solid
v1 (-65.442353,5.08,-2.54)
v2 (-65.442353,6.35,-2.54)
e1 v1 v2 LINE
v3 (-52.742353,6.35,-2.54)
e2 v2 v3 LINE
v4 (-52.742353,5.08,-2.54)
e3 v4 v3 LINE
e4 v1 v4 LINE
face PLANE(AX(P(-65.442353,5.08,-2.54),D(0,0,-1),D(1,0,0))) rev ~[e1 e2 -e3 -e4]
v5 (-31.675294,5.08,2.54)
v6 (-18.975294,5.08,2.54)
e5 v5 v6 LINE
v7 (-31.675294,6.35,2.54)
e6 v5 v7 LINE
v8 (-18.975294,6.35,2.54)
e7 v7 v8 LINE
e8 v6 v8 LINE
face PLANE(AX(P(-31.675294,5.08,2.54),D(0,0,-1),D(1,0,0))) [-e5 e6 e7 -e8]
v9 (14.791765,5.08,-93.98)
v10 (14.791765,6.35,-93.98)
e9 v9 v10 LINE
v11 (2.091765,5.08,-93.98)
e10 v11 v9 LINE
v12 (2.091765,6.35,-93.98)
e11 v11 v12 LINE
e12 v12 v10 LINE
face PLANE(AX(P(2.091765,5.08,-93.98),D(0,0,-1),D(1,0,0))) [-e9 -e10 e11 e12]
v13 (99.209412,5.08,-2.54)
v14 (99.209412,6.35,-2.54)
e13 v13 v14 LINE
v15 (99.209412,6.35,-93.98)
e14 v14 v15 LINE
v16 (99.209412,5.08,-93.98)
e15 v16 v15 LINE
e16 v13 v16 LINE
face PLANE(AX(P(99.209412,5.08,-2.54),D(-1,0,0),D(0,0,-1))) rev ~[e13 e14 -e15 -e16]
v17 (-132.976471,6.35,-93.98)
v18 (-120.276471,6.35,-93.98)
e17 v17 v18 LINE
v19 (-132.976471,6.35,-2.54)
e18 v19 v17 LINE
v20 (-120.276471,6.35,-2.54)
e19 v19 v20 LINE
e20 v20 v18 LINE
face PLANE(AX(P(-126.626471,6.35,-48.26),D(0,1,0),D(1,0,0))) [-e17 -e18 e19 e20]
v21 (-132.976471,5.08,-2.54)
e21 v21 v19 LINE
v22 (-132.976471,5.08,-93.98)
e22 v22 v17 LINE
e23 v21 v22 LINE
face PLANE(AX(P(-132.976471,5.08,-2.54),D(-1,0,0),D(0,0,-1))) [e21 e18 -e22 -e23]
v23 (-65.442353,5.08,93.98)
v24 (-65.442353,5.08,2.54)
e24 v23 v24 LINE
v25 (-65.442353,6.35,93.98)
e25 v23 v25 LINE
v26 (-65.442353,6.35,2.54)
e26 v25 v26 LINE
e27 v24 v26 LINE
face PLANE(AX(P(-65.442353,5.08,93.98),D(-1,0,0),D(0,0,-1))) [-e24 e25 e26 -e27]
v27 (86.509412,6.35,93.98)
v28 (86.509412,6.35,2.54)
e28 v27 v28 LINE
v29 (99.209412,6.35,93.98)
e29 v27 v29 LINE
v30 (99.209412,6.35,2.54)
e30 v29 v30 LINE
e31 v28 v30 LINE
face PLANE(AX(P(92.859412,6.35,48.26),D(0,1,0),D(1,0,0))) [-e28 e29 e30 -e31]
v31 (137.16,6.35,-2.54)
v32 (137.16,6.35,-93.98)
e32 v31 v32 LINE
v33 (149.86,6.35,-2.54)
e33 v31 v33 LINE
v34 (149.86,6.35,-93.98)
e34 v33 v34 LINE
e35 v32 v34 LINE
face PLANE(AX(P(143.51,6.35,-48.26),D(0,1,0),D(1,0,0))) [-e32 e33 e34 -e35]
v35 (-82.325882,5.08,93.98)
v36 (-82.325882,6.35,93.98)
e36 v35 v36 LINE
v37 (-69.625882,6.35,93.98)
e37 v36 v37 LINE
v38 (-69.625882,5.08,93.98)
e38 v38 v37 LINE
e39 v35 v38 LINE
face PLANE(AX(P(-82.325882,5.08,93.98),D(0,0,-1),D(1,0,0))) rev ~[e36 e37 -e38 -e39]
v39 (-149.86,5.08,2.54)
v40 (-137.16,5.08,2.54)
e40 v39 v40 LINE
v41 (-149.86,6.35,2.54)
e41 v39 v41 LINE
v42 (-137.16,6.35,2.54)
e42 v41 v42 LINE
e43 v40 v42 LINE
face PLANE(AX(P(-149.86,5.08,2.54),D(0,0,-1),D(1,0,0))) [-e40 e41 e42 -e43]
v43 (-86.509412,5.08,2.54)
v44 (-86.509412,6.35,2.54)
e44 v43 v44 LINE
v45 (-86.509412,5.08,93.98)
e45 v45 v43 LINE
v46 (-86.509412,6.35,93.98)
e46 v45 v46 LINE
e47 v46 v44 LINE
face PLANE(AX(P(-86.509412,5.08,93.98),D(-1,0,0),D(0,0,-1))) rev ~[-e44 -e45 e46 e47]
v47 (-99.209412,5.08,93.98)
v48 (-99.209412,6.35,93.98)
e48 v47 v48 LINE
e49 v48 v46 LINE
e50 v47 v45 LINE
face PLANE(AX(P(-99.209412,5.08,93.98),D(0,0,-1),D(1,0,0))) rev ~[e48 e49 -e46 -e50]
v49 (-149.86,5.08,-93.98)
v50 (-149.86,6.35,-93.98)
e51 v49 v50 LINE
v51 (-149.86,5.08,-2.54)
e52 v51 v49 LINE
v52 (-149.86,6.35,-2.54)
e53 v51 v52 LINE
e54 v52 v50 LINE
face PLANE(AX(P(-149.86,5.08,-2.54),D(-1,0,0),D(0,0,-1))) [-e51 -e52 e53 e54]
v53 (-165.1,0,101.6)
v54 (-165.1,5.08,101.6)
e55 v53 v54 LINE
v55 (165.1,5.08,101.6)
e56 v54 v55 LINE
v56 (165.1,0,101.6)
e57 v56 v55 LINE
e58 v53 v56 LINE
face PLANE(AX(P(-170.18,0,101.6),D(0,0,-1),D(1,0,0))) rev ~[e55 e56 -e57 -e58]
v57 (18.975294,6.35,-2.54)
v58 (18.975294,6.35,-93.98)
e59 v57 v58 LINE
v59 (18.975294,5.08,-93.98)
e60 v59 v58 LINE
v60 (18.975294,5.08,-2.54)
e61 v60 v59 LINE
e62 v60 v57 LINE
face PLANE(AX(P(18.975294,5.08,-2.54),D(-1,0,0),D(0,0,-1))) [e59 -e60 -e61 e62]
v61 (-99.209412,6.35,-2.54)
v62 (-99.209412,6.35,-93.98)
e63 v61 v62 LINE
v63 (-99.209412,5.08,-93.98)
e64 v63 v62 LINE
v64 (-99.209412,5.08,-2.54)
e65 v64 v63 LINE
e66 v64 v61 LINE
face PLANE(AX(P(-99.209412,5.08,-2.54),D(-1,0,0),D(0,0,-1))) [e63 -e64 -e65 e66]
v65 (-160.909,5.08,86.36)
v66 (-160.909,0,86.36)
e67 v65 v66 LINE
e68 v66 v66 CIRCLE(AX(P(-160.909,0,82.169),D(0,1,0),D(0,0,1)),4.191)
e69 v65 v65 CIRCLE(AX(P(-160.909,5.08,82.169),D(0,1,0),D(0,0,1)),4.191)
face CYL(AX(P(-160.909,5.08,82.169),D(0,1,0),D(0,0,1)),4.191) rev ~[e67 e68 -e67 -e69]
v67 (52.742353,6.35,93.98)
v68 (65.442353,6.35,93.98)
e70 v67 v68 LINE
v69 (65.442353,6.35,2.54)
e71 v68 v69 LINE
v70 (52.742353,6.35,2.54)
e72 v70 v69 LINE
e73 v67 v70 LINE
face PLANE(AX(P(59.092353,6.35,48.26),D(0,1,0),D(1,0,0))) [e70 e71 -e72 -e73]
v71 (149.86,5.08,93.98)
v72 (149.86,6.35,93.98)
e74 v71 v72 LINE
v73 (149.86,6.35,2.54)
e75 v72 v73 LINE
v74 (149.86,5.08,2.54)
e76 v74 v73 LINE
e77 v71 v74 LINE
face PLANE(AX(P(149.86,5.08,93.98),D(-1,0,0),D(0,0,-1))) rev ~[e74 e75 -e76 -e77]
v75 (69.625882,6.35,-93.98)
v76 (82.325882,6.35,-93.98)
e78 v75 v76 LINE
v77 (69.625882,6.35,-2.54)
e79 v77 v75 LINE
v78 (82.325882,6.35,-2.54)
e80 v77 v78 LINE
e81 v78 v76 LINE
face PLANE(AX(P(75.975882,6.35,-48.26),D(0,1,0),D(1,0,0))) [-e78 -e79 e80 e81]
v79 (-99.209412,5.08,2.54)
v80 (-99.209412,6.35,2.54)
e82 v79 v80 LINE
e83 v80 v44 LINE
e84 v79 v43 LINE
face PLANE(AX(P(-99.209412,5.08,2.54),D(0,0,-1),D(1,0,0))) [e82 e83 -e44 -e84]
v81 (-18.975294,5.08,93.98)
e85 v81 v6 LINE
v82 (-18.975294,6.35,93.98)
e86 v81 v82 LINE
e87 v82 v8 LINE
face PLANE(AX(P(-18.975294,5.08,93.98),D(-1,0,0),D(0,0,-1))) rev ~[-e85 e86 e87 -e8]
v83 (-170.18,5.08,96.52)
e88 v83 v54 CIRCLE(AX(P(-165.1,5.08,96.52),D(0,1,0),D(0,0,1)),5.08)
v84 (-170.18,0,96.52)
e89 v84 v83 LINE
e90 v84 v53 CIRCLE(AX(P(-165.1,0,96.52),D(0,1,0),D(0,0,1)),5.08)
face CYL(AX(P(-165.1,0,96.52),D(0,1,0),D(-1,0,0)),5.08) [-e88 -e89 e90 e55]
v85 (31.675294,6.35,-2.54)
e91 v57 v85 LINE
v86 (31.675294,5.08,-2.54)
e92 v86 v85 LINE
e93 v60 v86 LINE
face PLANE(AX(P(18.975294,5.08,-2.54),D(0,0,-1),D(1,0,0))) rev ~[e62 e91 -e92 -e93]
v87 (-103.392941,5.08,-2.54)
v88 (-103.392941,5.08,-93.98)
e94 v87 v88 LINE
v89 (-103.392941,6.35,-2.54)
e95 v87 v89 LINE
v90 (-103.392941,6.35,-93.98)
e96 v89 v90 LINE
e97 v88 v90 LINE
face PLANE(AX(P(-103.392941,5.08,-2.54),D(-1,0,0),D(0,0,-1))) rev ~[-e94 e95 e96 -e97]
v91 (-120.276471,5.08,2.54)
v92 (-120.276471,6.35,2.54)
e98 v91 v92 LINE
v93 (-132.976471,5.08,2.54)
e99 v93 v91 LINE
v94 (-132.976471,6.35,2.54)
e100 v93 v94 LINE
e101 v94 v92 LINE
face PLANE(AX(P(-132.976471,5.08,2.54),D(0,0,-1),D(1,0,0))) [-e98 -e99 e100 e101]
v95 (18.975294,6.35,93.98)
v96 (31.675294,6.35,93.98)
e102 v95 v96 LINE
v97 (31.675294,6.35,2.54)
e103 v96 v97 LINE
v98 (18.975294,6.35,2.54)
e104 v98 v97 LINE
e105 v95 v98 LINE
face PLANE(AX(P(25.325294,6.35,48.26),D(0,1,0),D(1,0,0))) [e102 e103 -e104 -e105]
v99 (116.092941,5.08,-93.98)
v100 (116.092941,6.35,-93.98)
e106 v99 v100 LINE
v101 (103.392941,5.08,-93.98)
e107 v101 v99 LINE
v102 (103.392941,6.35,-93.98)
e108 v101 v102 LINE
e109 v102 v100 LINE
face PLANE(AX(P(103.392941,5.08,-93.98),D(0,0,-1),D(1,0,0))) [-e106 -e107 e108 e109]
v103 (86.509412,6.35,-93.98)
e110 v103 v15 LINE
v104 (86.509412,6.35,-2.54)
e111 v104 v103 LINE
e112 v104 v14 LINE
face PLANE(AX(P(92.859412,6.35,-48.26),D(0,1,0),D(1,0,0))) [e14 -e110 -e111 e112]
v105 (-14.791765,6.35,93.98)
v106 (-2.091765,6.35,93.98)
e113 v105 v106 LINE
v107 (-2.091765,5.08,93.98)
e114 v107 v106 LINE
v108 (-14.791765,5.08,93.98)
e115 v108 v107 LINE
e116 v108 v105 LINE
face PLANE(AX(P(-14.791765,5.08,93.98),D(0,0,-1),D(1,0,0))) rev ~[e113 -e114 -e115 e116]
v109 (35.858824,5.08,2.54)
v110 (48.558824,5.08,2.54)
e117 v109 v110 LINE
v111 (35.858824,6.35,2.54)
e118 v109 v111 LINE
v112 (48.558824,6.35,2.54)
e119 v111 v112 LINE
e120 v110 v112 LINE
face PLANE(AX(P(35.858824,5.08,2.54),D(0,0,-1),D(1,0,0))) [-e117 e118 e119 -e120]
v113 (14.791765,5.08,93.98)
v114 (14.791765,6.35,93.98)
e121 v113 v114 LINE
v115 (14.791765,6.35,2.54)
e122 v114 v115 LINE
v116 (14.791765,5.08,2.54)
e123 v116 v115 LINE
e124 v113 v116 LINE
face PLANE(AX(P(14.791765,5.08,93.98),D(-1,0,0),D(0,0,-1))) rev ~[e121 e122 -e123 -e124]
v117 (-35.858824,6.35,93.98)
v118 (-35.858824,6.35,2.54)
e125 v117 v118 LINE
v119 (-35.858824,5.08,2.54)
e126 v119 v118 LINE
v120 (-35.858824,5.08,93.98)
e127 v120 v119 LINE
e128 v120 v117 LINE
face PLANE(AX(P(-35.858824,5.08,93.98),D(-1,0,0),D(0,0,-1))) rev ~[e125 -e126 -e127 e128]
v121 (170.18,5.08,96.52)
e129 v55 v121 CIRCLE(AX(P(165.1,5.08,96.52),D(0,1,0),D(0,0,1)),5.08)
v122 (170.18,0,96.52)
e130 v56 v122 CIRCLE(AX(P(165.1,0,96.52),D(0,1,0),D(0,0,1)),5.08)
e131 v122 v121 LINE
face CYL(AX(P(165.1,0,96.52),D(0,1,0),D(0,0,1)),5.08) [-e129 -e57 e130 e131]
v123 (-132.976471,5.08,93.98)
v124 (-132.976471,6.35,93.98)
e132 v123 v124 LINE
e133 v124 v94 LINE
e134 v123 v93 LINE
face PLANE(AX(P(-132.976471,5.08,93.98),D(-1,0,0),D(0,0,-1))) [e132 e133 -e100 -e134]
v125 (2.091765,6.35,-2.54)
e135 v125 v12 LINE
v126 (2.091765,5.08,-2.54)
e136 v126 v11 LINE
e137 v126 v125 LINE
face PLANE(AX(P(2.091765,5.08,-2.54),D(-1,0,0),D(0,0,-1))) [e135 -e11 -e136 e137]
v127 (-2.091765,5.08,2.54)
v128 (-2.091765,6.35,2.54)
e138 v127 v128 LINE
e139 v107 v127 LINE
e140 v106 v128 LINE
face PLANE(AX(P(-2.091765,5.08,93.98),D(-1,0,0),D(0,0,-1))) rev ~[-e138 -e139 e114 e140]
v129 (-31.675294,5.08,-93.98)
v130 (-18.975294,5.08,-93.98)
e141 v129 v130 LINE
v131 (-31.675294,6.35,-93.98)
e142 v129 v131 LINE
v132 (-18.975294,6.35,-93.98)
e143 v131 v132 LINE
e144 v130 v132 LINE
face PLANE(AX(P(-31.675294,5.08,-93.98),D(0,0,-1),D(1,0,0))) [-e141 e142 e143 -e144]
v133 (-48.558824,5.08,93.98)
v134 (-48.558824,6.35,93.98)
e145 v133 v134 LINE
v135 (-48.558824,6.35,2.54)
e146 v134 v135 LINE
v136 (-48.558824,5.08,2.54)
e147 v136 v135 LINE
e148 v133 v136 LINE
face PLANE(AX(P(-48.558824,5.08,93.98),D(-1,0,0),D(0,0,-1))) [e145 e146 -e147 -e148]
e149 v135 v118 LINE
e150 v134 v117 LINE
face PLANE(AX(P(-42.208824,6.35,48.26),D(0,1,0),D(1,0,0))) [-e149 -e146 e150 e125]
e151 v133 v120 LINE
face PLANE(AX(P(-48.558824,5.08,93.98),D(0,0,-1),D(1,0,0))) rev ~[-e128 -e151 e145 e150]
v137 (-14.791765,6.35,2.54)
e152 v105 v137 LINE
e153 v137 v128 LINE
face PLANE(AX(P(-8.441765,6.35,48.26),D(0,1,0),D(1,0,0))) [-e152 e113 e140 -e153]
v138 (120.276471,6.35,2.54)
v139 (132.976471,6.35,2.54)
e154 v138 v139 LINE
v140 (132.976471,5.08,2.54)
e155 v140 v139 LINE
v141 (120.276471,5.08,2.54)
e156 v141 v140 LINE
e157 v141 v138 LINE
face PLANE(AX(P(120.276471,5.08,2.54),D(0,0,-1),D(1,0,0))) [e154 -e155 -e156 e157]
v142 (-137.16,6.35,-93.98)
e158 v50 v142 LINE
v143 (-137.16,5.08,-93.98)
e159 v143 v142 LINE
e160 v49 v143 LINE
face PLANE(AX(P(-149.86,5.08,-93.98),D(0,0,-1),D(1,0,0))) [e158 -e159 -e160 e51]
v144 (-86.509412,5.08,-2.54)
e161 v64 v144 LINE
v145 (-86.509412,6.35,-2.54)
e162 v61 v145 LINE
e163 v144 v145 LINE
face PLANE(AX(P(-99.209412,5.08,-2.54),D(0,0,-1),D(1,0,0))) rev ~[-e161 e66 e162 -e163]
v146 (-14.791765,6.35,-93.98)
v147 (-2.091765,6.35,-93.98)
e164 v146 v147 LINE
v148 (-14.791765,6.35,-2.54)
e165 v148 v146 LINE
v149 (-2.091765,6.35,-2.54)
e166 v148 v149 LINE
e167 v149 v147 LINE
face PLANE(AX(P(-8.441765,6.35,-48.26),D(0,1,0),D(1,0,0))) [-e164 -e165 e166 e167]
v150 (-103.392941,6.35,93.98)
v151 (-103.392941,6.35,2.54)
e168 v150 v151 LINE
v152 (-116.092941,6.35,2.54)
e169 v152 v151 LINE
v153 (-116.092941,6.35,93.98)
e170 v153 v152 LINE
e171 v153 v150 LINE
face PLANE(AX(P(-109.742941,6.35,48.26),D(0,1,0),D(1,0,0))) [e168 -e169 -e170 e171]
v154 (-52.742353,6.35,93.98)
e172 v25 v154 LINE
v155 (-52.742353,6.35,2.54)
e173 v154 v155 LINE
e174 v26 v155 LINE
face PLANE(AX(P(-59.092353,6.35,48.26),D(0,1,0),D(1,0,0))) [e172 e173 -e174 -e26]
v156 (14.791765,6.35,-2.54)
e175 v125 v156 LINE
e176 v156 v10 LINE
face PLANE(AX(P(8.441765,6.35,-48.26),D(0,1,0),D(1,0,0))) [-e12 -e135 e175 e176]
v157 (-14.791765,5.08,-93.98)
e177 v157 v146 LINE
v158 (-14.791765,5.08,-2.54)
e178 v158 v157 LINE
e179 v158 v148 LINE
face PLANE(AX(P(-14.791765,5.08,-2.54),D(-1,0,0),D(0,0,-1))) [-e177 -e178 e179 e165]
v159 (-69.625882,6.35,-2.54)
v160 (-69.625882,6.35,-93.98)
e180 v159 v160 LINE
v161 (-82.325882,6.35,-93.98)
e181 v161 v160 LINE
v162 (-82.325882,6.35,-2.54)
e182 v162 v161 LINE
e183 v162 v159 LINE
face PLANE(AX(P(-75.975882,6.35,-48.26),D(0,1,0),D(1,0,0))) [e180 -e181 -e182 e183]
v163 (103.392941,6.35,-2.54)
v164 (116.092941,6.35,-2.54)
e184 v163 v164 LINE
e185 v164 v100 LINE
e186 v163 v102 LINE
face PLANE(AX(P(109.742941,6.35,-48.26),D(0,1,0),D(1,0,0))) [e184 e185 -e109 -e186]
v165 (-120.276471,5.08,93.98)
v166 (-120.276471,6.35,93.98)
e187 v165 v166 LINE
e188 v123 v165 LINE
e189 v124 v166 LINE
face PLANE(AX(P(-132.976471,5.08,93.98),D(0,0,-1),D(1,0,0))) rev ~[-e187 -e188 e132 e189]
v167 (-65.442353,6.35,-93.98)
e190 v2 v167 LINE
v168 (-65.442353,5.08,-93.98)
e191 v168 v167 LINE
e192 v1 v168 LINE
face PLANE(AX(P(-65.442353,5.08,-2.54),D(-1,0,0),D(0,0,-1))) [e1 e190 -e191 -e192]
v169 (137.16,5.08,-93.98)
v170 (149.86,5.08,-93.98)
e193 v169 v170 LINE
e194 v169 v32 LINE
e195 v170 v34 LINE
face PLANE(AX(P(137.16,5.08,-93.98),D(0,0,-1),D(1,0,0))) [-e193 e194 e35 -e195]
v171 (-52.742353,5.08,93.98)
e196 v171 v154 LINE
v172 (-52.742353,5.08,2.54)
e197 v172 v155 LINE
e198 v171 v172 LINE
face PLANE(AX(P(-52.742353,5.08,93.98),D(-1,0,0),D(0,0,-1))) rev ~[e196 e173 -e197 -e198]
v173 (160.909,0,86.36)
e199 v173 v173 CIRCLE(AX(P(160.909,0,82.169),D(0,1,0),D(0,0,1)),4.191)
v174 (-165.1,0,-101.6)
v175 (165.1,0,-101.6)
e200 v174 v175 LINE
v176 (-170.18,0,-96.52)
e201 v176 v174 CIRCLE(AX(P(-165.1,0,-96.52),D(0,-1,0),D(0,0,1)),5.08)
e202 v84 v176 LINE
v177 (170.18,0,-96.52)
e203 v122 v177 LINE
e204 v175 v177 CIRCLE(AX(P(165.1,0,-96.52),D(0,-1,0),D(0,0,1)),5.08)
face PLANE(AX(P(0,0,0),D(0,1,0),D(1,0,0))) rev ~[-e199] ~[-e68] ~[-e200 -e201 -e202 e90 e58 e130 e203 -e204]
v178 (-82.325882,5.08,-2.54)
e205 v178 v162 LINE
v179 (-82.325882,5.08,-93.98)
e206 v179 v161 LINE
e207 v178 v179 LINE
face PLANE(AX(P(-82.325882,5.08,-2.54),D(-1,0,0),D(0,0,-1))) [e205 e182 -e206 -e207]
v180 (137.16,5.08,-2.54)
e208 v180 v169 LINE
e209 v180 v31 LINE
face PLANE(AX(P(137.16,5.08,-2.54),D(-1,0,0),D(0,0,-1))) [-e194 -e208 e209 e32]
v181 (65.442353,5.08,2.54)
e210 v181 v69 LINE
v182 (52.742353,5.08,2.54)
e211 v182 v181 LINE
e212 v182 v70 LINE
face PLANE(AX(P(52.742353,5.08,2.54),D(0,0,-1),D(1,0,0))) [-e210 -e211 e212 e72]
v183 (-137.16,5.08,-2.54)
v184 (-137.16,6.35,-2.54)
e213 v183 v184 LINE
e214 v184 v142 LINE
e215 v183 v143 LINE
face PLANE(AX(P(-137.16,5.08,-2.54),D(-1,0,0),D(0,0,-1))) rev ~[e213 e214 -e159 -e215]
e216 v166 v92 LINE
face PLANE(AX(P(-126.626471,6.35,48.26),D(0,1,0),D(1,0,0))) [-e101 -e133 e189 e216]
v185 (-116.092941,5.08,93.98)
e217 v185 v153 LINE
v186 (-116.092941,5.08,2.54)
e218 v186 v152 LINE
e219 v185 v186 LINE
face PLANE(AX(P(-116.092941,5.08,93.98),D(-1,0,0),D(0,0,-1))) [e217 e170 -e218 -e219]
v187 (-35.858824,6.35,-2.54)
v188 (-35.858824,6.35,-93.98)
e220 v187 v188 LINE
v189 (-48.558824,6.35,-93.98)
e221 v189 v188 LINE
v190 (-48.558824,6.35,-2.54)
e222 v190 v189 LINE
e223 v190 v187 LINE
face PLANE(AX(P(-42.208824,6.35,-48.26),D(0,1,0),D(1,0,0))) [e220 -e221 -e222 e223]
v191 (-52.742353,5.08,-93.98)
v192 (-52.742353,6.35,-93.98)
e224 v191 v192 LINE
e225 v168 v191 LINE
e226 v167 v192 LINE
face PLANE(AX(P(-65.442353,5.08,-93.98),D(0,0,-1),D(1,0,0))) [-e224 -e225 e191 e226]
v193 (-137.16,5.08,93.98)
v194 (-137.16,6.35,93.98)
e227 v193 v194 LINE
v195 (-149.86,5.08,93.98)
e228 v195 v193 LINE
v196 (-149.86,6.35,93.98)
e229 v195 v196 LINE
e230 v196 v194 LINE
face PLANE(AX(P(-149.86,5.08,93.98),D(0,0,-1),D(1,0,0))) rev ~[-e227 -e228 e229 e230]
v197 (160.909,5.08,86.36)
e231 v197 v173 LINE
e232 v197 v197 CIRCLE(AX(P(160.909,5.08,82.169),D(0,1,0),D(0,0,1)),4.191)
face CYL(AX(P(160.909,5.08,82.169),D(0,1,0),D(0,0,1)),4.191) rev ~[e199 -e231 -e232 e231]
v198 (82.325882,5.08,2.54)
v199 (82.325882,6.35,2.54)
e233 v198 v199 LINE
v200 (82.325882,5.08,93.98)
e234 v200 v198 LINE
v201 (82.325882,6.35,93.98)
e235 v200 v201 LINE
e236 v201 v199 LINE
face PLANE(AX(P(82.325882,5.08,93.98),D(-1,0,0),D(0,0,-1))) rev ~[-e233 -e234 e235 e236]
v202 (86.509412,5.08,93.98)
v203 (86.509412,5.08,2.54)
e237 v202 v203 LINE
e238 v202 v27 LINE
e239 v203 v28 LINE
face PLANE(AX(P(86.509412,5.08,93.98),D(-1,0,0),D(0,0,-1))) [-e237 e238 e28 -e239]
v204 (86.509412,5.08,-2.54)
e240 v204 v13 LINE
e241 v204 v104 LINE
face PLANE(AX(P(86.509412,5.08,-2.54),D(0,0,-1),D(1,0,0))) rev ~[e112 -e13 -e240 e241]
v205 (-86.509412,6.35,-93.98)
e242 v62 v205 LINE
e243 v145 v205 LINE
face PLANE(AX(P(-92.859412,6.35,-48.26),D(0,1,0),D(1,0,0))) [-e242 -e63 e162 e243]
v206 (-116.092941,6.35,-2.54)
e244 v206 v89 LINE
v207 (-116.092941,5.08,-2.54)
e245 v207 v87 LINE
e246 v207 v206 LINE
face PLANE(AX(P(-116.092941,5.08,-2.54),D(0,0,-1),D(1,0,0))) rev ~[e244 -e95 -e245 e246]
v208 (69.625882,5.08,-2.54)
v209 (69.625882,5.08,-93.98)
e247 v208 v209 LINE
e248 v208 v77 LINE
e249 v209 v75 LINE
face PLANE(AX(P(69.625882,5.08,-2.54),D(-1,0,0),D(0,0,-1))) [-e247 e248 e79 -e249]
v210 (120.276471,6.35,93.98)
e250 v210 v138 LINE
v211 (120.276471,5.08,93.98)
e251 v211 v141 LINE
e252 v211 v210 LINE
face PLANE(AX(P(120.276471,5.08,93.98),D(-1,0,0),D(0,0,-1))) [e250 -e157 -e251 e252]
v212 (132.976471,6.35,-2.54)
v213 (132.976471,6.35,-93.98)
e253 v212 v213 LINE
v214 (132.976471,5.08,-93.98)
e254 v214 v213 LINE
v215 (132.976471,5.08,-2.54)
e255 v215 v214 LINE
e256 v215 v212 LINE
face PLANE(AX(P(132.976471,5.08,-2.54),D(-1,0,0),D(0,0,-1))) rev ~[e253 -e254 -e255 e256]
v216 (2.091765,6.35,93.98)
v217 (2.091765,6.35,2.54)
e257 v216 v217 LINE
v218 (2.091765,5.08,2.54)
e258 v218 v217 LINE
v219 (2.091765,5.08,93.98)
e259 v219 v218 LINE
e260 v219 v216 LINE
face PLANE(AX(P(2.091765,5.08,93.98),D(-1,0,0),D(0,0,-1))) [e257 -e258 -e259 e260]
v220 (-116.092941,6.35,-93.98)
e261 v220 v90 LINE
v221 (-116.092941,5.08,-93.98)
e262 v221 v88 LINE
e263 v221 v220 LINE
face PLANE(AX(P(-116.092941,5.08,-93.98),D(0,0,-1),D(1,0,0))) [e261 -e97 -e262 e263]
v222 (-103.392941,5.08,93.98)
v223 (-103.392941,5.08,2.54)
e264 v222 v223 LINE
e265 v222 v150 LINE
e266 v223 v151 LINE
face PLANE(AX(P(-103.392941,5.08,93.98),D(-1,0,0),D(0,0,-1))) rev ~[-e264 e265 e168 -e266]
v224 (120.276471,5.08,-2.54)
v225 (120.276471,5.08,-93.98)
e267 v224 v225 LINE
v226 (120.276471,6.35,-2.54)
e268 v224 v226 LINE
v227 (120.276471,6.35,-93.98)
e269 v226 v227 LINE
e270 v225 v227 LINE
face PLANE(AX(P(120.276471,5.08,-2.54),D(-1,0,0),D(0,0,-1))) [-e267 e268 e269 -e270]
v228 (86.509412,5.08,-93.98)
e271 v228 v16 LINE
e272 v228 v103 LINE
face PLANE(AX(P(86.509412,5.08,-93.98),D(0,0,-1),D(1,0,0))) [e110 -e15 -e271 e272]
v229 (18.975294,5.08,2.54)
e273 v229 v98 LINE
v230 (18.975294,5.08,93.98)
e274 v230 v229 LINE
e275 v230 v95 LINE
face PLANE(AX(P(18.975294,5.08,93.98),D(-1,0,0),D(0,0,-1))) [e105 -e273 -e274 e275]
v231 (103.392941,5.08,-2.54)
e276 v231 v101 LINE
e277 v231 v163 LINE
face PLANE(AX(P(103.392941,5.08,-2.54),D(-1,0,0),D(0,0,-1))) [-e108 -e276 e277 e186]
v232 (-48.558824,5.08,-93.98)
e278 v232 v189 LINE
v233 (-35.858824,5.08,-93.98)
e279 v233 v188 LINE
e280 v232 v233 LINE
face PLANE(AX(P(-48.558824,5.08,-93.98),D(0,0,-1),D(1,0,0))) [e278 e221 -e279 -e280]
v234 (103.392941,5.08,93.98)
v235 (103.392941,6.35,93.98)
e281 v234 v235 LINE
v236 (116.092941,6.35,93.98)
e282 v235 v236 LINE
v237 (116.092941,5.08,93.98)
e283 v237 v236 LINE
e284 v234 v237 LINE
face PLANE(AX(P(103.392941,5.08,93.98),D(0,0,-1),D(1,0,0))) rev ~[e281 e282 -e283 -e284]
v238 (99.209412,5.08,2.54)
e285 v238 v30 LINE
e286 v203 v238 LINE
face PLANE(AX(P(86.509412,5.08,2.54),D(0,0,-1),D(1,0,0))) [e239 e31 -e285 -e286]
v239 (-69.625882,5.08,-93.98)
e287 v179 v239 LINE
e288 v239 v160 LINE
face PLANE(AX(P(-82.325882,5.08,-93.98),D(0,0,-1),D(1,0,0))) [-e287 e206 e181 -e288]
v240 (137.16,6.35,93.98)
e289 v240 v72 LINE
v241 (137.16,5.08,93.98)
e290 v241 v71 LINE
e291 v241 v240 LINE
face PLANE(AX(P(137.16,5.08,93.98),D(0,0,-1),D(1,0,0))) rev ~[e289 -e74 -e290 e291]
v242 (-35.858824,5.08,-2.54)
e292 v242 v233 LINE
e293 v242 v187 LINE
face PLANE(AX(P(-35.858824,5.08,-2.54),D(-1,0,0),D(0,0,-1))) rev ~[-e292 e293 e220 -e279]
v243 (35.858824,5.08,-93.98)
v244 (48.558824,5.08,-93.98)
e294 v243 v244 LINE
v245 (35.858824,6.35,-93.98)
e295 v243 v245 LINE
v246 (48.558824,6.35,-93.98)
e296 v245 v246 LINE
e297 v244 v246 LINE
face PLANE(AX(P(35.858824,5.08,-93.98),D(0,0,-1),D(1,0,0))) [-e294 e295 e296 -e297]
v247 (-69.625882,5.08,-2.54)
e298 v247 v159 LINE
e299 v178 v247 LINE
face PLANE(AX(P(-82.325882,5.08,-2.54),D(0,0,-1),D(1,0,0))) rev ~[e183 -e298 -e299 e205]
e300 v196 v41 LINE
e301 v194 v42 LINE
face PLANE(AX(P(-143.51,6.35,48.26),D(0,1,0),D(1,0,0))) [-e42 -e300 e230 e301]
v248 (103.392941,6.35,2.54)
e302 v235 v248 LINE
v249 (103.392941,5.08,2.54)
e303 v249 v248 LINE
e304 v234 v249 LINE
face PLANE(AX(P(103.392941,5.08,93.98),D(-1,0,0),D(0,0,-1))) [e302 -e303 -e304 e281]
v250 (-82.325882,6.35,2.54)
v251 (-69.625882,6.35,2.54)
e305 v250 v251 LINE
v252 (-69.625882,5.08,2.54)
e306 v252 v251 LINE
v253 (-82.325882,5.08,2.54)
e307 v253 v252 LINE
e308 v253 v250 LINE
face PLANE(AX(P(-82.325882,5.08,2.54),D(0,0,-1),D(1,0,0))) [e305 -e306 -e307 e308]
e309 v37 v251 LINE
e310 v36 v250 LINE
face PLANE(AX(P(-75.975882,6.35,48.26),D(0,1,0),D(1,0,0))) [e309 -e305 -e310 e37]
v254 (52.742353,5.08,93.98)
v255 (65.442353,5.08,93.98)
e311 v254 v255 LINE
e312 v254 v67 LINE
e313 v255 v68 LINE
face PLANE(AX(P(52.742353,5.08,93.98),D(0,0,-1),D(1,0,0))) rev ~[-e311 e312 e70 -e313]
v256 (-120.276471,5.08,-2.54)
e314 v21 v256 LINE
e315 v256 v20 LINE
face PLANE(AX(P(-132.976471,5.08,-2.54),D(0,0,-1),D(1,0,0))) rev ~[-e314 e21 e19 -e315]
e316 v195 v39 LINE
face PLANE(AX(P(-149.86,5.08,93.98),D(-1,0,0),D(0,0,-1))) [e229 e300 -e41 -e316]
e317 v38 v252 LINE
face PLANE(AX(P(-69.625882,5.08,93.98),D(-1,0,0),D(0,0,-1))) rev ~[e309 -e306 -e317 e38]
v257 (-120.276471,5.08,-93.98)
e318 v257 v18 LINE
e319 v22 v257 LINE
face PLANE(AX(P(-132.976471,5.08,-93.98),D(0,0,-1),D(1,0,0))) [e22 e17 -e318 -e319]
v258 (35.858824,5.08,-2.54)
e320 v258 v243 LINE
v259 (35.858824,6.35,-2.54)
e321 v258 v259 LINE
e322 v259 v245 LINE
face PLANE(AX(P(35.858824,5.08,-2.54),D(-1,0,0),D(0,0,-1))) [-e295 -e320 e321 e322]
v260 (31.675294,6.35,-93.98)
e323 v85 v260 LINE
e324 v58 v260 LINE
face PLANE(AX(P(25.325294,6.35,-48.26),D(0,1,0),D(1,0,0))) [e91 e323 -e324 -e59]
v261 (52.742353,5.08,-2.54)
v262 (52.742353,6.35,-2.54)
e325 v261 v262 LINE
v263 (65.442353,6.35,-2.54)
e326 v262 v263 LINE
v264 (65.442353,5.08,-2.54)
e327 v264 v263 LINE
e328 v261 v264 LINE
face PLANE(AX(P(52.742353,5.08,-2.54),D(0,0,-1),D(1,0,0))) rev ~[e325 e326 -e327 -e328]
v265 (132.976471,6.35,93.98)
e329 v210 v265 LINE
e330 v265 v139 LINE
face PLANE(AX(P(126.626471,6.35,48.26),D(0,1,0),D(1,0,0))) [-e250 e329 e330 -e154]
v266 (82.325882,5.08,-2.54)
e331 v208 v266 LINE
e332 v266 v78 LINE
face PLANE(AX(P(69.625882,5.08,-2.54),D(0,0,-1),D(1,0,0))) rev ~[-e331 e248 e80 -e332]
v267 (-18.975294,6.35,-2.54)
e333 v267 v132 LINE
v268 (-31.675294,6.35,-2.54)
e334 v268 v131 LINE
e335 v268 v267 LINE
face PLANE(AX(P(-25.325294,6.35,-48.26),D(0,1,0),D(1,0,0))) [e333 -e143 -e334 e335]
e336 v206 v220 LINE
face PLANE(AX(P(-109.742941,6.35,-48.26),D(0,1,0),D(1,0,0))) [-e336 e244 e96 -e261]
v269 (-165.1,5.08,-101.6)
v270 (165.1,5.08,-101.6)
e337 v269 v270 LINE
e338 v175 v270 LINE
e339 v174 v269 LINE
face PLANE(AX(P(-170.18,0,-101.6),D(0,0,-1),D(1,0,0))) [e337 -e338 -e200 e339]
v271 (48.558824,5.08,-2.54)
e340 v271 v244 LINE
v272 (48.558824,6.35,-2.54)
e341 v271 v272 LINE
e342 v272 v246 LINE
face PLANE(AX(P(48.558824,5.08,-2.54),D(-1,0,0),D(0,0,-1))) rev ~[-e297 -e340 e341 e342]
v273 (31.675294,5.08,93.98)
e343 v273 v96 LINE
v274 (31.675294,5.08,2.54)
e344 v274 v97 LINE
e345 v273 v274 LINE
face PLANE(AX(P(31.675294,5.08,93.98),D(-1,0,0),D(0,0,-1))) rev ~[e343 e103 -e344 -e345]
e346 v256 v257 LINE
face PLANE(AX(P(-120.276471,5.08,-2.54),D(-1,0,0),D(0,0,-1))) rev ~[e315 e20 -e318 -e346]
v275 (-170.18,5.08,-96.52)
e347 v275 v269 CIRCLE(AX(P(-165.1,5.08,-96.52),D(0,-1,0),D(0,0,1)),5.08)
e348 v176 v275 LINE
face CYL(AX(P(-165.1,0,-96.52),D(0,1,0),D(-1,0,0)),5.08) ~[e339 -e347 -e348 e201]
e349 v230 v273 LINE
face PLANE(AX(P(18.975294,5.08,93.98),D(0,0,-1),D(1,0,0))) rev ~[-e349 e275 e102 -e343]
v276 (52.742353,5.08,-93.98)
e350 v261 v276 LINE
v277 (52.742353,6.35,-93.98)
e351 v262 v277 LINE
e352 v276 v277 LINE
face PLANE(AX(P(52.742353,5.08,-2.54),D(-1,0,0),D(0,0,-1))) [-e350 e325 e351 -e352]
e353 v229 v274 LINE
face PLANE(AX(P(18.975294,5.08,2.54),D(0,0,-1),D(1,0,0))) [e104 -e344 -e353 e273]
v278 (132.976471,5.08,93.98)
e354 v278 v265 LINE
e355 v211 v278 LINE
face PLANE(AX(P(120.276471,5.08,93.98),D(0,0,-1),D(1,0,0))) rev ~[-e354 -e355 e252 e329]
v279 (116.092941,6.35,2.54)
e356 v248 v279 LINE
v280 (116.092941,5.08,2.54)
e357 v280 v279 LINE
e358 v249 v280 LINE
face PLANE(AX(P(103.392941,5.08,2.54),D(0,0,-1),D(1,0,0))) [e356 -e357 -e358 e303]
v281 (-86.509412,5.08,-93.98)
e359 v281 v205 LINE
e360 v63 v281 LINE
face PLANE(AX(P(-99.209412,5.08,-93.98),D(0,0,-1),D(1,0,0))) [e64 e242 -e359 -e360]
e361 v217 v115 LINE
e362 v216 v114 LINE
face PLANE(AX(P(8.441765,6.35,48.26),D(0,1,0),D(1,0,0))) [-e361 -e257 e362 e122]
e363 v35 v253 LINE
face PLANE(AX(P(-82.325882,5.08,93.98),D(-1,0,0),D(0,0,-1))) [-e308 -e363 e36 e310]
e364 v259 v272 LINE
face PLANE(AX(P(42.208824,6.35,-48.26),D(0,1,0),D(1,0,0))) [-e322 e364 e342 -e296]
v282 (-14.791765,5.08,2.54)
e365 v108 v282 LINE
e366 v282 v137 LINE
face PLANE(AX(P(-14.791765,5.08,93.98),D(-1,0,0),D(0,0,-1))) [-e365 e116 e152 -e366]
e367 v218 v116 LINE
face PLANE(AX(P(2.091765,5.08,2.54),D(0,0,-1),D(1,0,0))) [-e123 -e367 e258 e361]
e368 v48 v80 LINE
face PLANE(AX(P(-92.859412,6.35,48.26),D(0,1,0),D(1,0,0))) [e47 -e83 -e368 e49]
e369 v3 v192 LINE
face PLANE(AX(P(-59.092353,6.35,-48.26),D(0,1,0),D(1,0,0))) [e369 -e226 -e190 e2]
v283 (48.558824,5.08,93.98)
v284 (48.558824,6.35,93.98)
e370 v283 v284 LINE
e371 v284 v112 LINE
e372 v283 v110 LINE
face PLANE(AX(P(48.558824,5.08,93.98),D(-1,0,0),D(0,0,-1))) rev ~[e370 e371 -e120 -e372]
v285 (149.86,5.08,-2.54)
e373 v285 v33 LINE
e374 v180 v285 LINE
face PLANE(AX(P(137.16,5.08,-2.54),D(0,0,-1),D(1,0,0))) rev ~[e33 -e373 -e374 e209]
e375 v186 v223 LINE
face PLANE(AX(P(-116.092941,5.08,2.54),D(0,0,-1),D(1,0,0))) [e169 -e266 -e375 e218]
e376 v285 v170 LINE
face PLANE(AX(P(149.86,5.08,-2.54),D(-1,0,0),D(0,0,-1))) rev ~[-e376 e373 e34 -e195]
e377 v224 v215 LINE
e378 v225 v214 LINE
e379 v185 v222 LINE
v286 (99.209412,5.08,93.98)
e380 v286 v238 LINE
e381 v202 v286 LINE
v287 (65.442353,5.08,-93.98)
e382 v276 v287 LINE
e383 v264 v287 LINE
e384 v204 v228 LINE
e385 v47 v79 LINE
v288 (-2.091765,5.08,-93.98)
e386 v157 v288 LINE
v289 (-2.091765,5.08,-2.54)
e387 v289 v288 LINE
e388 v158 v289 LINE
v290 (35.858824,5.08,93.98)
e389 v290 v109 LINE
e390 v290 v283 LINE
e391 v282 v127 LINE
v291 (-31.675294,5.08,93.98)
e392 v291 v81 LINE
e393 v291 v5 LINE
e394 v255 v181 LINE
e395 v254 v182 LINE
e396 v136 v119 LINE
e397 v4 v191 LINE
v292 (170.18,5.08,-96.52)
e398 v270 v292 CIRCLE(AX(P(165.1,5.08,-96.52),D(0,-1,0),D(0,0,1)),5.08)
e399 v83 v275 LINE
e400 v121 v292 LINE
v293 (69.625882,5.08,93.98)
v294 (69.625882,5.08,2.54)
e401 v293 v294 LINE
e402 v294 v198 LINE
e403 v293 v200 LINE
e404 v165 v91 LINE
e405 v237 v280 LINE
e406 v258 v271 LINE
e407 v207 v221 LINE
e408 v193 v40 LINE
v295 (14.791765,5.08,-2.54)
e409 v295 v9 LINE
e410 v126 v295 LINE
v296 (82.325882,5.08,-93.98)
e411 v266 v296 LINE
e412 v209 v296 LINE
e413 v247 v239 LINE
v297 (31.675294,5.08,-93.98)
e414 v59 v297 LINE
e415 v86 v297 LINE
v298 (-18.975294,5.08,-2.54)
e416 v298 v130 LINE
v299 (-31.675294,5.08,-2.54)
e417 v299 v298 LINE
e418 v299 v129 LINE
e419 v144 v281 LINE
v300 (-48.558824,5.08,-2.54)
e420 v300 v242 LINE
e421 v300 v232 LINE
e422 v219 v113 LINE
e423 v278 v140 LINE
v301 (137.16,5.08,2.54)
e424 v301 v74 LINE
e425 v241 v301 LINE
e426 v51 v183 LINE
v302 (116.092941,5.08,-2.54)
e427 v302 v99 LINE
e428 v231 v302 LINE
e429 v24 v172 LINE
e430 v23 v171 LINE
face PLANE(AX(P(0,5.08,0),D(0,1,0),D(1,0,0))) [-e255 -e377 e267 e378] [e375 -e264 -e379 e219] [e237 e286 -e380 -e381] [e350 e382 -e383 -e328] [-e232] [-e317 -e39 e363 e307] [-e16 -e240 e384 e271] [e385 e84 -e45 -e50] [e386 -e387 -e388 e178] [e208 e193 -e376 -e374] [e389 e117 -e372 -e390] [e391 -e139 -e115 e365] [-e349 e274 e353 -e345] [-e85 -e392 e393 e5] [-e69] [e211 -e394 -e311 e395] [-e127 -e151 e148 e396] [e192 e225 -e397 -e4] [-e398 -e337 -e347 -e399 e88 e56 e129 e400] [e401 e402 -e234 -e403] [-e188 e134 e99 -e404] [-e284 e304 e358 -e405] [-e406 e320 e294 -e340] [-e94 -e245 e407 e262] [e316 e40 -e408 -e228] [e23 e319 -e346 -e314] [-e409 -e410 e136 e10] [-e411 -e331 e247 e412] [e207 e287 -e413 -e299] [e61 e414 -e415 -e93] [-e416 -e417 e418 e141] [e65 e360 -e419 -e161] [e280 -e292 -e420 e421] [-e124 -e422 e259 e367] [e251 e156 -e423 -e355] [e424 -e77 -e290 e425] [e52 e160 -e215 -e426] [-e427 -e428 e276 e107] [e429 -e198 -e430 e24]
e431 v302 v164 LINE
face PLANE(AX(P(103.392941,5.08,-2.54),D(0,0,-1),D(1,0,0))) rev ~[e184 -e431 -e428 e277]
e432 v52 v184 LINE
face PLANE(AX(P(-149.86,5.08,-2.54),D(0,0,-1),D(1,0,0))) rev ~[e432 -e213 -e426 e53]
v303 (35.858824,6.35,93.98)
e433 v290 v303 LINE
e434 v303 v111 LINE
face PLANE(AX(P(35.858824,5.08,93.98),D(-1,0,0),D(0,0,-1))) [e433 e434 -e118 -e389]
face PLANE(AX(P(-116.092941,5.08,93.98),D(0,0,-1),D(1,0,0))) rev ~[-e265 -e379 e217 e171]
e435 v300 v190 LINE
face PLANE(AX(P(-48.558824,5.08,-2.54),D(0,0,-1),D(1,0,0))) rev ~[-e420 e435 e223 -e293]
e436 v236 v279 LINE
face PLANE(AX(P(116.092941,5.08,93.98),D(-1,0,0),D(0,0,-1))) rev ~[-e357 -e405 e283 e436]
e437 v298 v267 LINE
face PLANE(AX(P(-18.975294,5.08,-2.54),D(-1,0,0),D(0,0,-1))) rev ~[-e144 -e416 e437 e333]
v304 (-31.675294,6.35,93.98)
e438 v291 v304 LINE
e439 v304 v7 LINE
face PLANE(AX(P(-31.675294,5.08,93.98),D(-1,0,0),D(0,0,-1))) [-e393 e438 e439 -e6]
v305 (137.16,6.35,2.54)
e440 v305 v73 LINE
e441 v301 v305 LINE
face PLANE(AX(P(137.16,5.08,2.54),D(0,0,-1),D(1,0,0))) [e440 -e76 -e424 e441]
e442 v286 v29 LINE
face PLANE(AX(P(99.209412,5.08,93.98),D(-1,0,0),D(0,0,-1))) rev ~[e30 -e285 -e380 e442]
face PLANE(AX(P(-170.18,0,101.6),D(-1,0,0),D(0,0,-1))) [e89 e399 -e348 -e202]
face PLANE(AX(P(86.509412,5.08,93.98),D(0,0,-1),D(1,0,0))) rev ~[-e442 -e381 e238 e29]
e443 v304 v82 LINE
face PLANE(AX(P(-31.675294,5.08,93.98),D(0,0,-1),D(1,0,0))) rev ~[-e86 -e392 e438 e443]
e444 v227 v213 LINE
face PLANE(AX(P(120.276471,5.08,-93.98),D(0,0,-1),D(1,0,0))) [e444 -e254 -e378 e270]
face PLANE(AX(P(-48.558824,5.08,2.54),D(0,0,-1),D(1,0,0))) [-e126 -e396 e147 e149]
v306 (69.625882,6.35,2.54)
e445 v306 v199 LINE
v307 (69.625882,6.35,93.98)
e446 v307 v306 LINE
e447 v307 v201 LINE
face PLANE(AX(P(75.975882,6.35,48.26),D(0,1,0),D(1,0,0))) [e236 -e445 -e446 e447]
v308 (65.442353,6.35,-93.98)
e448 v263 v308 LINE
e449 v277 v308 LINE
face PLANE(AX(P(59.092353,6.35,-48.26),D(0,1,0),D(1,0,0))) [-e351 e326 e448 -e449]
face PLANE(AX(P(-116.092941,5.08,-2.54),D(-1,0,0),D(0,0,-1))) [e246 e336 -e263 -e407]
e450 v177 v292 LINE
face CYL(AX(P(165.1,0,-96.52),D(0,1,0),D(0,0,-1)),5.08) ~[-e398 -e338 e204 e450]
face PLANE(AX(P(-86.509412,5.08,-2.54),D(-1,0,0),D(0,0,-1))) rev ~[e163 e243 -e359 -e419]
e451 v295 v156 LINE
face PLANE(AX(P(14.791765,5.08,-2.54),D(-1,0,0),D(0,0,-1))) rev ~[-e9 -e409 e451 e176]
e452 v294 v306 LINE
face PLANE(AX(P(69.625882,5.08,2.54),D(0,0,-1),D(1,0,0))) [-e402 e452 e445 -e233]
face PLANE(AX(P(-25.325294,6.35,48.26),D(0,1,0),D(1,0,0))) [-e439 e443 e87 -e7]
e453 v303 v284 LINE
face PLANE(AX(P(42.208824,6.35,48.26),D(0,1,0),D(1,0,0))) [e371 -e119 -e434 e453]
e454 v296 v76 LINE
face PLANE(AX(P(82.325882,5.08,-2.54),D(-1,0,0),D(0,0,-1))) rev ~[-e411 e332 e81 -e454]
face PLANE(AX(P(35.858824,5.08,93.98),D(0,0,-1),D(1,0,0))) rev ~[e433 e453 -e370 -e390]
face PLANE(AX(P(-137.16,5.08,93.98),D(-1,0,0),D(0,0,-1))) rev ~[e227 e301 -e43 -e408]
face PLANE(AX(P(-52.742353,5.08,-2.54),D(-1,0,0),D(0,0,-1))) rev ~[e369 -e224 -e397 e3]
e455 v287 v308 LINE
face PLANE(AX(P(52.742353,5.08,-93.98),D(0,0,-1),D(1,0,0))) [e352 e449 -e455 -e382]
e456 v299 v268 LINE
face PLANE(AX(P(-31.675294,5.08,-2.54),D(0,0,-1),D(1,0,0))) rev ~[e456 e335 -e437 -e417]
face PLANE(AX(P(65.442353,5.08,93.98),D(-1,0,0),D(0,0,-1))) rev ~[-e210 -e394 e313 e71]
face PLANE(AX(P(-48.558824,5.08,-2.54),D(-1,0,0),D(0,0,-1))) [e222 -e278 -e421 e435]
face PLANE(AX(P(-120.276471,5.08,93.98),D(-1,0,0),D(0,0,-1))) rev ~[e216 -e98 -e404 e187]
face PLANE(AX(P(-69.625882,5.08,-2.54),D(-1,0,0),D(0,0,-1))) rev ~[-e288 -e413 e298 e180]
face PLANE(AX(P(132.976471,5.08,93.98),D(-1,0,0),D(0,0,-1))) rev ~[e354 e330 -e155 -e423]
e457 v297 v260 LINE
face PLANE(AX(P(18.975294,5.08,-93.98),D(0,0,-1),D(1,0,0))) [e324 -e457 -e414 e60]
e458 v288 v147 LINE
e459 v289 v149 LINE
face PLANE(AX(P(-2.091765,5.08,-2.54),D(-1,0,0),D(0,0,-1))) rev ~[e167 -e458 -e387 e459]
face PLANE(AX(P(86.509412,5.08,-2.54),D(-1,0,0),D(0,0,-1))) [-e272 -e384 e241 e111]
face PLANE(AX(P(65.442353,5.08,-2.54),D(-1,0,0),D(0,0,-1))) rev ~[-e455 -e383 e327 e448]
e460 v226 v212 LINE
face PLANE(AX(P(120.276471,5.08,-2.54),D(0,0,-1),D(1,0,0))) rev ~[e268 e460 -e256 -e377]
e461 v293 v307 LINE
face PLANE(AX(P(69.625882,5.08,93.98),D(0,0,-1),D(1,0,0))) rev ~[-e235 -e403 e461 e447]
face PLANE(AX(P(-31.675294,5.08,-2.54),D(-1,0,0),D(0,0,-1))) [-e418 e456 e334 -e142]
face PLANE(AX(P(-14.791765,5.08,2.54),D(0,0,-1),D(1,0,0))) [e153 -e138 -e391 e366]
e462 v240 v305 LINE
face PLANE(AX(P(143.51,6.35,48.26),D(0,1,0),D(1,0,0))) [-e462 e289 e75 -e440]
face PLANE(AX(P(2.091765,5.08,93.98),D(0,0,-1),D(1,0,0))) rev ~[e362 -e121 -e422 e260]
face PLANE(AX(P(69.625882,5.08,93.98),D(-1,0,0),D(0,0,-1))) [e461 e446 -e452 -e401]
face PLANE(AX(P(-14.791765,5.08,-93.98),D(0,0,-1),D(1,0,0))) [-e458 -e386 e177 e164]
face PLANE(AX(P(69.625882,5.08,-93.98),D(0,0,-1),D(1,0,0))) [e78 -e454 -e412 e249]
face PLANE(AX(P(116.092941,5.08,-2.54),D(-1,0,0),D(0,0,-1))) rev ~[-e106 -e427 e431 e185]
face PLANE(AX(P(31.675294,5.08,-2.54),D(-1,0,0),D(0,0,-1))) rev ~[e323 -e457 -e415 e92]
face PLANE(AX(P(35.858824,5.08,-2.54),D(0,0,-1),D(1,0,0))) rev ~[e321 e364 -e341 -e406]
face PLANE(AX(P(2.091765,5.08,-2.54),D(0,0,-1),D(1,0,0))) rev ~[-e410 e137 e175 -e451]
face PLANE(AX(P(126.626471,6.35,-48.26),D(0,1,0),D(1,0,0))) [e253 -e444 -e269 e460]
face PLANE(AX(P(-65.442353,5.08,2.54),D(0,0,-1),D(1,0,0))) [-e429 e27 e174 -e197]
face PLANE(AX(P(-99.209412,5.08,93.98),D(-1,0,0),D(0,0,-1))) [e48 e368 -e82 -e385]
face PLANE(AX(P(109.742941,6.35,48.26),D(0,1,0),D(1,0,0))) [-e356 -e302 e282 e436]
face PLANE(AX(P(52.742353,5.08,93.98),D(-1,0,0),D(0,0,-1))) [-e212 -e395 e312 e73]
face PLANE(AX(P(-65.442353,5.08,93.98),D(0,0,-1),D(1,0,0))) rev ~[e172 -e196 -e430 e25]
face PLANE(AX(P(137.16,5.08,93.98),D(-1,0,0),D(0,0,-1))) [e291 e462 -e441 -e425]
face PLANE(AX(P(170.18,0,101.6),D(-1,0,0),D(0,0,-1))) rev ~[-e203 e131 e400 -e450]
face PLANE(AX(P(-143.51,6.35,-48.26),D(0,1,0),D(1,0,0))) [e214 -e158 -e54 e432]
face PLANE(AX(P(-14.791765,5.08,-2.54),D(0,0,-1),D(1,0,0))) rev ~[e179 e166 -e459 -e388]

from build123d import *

# Parameters (mm, degrees)
CROQUIS1_W              = 340.36
CROQUIS1_H              = 203.2
SALIENTE_EXTRUIR1_DEPTH = 5.08
CROQUIS2_W              = 12.7
CROQUIS2_H              = 91.44
SALIENTE_EXTRUIR2_DEPTH = 1.27
CROQUIS3_R              = 4.191
CORTAR_EXTRUIR1_DEPTH   = 10
REDONDEO1_R             = 5.08


with BuildPart() as part:
    # Croquis1 → Saliente-Extruir1 (new body)
    with BuildSketch(Plane(origin=(0, 0, 0), x_dir=(1, 0, 0), z_dir=(0, 1, 0))):
        Rectangle(CROQUIS1_W, CROQUIS1_H)
    extrude(amount=SALIENTE_EXTRUIR1_DEPTH)

    # Croquis2 → Saliente-Extruir2 (add)
    with BuildSketch(Plane(origin=(0, 5.08, 0), x_dir=(1, 0, 0), z_dir=(0, 1, 0))):
        with Locations((-143.51, 48.26)):
            Rectangle(CROQUIS2_W, CROQUIS2_H)
        with Locations((-126.626470588, 48.26)):
            Rectangle(CROQUIS2_W, CROQUIS2_H)
        with Locations((-109.742941176, 48.26)):
            Rectangle(CROQUIS2_W, CROQUIS2_H)
        with Locations((-92.859411765, 48.26)):
            Rectangle(CROQUIS2_W, CROQUIS2_H)
        with Locations((-75.975882353, 48.26)):
            Rectangle(CROQUIS2_W, CROQUIS2_H)
        with Locations((-59.092352941, 48.26)):
            Rectangle(CROQUIS2_W, CROQUIS2_H)
        with Locations((-42.208823529, 48.26)):
            Rectangle(CROQUIS2_W, CROQUIS2_H)
        with Locations((-25.325294118, 48.26)):
            Rectangle(CROQUIS2_W, CROQUIS2_H)
        with Locations((-8.441764706, 48.26)):
            Rectangle(CROQUIS2_W, CROQUIS2_H)
        with Locations((8.441764706, 48.26)):
            Rectangle(CROQUIS2_W, CROQUIS2_H)
        with Locations((25.325294118, 48.26)):
            Rectangle(CROQUIS2_W, CROQUIS2_H)
        with Locations((42.208823529, 48.26)):
            Rectangle(CROQUIS2_W, CROQUIS2_H)
        with Locations((59.092352941, 48.26)):
            Rectangle(CROQUIS2_W, CROQUIS2_H)
        with Locations((75.975882353, 48.26)):
            Rectangle(CROQUIS2_W, CROQUIS2_H)
        with Locations((92.859411765, 48.26)):
            Rectangle(CROQUIS2_W, CROQUIS2_H)
        with Locations((109.742941176, 48.26)):
            Rectangle(CROQUIS2_W, CROQUIS2_H)
        with Locations((126.626470588, 48.26)):
            Rectangle(CROQUIS2_W, CROQUIS2_H)
        with Locations((143.51, 48.26)):
            Rectangle(CROQUIS2_W, CROQUIS2_H)
        with Locations((143.51, -48.26)):
            Rectangle(CROQUIS2_W, CROQUIS2_H)
        with Locations((126.626470588, -48.26)):
            Rectangle(CROQUIS2_W, CROQUIS2_H)
        with Locations((109.742941176, -48.26)):
            Rectangle(CROQUIS2_W, CROQUIS2_H)
        with Locations((92.859411765, -48.26)):
            Rectangle(CROQUIS2_W, CROQUIS2_H)
        with Locations((75.975882353, -48.26)):
            Rectangle(CROQUIS2_W, CROQUIS2_H)
        with Locations((59.092352941, -48.26)):
            Rectangle(CROQUIS2_W, CROQUIS2_H)
        with Locations((42.208823529, -48.26)):
            Rectangle(CROQUIS2_W, CROQUIS2_H)
        with Locations((25.325294118, -48.26)):
            Rectangle(CROQUIS2_W, CROQUIS2_H)
        with Locations((8.441764706, -48.26)):
            Rectangle(CROQUIS2_W, CROQUIS2_H)
        with Locations((-8.441764706, -48.26)):
            Rectangle(CROQUIS2_W, CROQUIS2_H)
        with Locations((-25.325294118, -48.26)):
            Rectangle(CROQUIS2_W, CROQUIS2_H)
        with Locations((-42.208823529, -48.26)):
            Rectangle(CROQUIS2_W, CROQUIS2_H)
        with Locations((-59.092352941, -48.26)):
            Rectangle(CROQUIS2_W, CROQUIS2_H)
        with Locations((-75.975882353, -48.26)):
            Rectangle(CROQUIS2_W, CROQUIS2_H)
        with Locations((-92.859411765, -48.26)):
            Rectangle(CROQUIS2_W, CROQUIS2_H)
        with Locations((-109.742941176, -48.26)):
            Rectangle(CROQUIS2_W, CROQUIS2_H)
        with Locations((-126.626470588, -48.26)):
            Rectangle(CROQUIS2_W, CROQUIS2_H)
        with Locations((-143.51, -48.26)):
            Rectangle(CROQUIS2_W, CROQUIS2_H)
    extrude(amount=SALIENTE_EXTRUIR2_DEPTH)

    # Croquis3 → Cortar-Extruir1 (cut)
    with BuildSketch(Plane(origin=(0, 5.08, 0), x_dir=(1, 0, 0), z_dir=(0, 1, 0))):
        with Locations(Location((-160.909, -82.169, 0), (0, 0, 270))):
            Circle(CROQUIS3_R)
        with Locations(Location((160.909, -82.169, 0), (0, 0, 270))):
            Circle(CROQUIS3_R)
    extrude(amount=-CORTAR_EXTRUIR1_DEPTH, mode=Mode.SUBTRACT)

    # Redondeo1
    redondeo1_edges = [part.edges().sort_by_distance(p)[0] for p in [
        (-170.18, 2.54, -101.6),
        (170.18, 2.54, -101.6),
        (170.18, 2.54, 101.6),
        (-170.18, 2.54, 101.6),
    ]]
    fillet(redondeo1_edges, radius=REDONDEO1_R)


solid = part.part
